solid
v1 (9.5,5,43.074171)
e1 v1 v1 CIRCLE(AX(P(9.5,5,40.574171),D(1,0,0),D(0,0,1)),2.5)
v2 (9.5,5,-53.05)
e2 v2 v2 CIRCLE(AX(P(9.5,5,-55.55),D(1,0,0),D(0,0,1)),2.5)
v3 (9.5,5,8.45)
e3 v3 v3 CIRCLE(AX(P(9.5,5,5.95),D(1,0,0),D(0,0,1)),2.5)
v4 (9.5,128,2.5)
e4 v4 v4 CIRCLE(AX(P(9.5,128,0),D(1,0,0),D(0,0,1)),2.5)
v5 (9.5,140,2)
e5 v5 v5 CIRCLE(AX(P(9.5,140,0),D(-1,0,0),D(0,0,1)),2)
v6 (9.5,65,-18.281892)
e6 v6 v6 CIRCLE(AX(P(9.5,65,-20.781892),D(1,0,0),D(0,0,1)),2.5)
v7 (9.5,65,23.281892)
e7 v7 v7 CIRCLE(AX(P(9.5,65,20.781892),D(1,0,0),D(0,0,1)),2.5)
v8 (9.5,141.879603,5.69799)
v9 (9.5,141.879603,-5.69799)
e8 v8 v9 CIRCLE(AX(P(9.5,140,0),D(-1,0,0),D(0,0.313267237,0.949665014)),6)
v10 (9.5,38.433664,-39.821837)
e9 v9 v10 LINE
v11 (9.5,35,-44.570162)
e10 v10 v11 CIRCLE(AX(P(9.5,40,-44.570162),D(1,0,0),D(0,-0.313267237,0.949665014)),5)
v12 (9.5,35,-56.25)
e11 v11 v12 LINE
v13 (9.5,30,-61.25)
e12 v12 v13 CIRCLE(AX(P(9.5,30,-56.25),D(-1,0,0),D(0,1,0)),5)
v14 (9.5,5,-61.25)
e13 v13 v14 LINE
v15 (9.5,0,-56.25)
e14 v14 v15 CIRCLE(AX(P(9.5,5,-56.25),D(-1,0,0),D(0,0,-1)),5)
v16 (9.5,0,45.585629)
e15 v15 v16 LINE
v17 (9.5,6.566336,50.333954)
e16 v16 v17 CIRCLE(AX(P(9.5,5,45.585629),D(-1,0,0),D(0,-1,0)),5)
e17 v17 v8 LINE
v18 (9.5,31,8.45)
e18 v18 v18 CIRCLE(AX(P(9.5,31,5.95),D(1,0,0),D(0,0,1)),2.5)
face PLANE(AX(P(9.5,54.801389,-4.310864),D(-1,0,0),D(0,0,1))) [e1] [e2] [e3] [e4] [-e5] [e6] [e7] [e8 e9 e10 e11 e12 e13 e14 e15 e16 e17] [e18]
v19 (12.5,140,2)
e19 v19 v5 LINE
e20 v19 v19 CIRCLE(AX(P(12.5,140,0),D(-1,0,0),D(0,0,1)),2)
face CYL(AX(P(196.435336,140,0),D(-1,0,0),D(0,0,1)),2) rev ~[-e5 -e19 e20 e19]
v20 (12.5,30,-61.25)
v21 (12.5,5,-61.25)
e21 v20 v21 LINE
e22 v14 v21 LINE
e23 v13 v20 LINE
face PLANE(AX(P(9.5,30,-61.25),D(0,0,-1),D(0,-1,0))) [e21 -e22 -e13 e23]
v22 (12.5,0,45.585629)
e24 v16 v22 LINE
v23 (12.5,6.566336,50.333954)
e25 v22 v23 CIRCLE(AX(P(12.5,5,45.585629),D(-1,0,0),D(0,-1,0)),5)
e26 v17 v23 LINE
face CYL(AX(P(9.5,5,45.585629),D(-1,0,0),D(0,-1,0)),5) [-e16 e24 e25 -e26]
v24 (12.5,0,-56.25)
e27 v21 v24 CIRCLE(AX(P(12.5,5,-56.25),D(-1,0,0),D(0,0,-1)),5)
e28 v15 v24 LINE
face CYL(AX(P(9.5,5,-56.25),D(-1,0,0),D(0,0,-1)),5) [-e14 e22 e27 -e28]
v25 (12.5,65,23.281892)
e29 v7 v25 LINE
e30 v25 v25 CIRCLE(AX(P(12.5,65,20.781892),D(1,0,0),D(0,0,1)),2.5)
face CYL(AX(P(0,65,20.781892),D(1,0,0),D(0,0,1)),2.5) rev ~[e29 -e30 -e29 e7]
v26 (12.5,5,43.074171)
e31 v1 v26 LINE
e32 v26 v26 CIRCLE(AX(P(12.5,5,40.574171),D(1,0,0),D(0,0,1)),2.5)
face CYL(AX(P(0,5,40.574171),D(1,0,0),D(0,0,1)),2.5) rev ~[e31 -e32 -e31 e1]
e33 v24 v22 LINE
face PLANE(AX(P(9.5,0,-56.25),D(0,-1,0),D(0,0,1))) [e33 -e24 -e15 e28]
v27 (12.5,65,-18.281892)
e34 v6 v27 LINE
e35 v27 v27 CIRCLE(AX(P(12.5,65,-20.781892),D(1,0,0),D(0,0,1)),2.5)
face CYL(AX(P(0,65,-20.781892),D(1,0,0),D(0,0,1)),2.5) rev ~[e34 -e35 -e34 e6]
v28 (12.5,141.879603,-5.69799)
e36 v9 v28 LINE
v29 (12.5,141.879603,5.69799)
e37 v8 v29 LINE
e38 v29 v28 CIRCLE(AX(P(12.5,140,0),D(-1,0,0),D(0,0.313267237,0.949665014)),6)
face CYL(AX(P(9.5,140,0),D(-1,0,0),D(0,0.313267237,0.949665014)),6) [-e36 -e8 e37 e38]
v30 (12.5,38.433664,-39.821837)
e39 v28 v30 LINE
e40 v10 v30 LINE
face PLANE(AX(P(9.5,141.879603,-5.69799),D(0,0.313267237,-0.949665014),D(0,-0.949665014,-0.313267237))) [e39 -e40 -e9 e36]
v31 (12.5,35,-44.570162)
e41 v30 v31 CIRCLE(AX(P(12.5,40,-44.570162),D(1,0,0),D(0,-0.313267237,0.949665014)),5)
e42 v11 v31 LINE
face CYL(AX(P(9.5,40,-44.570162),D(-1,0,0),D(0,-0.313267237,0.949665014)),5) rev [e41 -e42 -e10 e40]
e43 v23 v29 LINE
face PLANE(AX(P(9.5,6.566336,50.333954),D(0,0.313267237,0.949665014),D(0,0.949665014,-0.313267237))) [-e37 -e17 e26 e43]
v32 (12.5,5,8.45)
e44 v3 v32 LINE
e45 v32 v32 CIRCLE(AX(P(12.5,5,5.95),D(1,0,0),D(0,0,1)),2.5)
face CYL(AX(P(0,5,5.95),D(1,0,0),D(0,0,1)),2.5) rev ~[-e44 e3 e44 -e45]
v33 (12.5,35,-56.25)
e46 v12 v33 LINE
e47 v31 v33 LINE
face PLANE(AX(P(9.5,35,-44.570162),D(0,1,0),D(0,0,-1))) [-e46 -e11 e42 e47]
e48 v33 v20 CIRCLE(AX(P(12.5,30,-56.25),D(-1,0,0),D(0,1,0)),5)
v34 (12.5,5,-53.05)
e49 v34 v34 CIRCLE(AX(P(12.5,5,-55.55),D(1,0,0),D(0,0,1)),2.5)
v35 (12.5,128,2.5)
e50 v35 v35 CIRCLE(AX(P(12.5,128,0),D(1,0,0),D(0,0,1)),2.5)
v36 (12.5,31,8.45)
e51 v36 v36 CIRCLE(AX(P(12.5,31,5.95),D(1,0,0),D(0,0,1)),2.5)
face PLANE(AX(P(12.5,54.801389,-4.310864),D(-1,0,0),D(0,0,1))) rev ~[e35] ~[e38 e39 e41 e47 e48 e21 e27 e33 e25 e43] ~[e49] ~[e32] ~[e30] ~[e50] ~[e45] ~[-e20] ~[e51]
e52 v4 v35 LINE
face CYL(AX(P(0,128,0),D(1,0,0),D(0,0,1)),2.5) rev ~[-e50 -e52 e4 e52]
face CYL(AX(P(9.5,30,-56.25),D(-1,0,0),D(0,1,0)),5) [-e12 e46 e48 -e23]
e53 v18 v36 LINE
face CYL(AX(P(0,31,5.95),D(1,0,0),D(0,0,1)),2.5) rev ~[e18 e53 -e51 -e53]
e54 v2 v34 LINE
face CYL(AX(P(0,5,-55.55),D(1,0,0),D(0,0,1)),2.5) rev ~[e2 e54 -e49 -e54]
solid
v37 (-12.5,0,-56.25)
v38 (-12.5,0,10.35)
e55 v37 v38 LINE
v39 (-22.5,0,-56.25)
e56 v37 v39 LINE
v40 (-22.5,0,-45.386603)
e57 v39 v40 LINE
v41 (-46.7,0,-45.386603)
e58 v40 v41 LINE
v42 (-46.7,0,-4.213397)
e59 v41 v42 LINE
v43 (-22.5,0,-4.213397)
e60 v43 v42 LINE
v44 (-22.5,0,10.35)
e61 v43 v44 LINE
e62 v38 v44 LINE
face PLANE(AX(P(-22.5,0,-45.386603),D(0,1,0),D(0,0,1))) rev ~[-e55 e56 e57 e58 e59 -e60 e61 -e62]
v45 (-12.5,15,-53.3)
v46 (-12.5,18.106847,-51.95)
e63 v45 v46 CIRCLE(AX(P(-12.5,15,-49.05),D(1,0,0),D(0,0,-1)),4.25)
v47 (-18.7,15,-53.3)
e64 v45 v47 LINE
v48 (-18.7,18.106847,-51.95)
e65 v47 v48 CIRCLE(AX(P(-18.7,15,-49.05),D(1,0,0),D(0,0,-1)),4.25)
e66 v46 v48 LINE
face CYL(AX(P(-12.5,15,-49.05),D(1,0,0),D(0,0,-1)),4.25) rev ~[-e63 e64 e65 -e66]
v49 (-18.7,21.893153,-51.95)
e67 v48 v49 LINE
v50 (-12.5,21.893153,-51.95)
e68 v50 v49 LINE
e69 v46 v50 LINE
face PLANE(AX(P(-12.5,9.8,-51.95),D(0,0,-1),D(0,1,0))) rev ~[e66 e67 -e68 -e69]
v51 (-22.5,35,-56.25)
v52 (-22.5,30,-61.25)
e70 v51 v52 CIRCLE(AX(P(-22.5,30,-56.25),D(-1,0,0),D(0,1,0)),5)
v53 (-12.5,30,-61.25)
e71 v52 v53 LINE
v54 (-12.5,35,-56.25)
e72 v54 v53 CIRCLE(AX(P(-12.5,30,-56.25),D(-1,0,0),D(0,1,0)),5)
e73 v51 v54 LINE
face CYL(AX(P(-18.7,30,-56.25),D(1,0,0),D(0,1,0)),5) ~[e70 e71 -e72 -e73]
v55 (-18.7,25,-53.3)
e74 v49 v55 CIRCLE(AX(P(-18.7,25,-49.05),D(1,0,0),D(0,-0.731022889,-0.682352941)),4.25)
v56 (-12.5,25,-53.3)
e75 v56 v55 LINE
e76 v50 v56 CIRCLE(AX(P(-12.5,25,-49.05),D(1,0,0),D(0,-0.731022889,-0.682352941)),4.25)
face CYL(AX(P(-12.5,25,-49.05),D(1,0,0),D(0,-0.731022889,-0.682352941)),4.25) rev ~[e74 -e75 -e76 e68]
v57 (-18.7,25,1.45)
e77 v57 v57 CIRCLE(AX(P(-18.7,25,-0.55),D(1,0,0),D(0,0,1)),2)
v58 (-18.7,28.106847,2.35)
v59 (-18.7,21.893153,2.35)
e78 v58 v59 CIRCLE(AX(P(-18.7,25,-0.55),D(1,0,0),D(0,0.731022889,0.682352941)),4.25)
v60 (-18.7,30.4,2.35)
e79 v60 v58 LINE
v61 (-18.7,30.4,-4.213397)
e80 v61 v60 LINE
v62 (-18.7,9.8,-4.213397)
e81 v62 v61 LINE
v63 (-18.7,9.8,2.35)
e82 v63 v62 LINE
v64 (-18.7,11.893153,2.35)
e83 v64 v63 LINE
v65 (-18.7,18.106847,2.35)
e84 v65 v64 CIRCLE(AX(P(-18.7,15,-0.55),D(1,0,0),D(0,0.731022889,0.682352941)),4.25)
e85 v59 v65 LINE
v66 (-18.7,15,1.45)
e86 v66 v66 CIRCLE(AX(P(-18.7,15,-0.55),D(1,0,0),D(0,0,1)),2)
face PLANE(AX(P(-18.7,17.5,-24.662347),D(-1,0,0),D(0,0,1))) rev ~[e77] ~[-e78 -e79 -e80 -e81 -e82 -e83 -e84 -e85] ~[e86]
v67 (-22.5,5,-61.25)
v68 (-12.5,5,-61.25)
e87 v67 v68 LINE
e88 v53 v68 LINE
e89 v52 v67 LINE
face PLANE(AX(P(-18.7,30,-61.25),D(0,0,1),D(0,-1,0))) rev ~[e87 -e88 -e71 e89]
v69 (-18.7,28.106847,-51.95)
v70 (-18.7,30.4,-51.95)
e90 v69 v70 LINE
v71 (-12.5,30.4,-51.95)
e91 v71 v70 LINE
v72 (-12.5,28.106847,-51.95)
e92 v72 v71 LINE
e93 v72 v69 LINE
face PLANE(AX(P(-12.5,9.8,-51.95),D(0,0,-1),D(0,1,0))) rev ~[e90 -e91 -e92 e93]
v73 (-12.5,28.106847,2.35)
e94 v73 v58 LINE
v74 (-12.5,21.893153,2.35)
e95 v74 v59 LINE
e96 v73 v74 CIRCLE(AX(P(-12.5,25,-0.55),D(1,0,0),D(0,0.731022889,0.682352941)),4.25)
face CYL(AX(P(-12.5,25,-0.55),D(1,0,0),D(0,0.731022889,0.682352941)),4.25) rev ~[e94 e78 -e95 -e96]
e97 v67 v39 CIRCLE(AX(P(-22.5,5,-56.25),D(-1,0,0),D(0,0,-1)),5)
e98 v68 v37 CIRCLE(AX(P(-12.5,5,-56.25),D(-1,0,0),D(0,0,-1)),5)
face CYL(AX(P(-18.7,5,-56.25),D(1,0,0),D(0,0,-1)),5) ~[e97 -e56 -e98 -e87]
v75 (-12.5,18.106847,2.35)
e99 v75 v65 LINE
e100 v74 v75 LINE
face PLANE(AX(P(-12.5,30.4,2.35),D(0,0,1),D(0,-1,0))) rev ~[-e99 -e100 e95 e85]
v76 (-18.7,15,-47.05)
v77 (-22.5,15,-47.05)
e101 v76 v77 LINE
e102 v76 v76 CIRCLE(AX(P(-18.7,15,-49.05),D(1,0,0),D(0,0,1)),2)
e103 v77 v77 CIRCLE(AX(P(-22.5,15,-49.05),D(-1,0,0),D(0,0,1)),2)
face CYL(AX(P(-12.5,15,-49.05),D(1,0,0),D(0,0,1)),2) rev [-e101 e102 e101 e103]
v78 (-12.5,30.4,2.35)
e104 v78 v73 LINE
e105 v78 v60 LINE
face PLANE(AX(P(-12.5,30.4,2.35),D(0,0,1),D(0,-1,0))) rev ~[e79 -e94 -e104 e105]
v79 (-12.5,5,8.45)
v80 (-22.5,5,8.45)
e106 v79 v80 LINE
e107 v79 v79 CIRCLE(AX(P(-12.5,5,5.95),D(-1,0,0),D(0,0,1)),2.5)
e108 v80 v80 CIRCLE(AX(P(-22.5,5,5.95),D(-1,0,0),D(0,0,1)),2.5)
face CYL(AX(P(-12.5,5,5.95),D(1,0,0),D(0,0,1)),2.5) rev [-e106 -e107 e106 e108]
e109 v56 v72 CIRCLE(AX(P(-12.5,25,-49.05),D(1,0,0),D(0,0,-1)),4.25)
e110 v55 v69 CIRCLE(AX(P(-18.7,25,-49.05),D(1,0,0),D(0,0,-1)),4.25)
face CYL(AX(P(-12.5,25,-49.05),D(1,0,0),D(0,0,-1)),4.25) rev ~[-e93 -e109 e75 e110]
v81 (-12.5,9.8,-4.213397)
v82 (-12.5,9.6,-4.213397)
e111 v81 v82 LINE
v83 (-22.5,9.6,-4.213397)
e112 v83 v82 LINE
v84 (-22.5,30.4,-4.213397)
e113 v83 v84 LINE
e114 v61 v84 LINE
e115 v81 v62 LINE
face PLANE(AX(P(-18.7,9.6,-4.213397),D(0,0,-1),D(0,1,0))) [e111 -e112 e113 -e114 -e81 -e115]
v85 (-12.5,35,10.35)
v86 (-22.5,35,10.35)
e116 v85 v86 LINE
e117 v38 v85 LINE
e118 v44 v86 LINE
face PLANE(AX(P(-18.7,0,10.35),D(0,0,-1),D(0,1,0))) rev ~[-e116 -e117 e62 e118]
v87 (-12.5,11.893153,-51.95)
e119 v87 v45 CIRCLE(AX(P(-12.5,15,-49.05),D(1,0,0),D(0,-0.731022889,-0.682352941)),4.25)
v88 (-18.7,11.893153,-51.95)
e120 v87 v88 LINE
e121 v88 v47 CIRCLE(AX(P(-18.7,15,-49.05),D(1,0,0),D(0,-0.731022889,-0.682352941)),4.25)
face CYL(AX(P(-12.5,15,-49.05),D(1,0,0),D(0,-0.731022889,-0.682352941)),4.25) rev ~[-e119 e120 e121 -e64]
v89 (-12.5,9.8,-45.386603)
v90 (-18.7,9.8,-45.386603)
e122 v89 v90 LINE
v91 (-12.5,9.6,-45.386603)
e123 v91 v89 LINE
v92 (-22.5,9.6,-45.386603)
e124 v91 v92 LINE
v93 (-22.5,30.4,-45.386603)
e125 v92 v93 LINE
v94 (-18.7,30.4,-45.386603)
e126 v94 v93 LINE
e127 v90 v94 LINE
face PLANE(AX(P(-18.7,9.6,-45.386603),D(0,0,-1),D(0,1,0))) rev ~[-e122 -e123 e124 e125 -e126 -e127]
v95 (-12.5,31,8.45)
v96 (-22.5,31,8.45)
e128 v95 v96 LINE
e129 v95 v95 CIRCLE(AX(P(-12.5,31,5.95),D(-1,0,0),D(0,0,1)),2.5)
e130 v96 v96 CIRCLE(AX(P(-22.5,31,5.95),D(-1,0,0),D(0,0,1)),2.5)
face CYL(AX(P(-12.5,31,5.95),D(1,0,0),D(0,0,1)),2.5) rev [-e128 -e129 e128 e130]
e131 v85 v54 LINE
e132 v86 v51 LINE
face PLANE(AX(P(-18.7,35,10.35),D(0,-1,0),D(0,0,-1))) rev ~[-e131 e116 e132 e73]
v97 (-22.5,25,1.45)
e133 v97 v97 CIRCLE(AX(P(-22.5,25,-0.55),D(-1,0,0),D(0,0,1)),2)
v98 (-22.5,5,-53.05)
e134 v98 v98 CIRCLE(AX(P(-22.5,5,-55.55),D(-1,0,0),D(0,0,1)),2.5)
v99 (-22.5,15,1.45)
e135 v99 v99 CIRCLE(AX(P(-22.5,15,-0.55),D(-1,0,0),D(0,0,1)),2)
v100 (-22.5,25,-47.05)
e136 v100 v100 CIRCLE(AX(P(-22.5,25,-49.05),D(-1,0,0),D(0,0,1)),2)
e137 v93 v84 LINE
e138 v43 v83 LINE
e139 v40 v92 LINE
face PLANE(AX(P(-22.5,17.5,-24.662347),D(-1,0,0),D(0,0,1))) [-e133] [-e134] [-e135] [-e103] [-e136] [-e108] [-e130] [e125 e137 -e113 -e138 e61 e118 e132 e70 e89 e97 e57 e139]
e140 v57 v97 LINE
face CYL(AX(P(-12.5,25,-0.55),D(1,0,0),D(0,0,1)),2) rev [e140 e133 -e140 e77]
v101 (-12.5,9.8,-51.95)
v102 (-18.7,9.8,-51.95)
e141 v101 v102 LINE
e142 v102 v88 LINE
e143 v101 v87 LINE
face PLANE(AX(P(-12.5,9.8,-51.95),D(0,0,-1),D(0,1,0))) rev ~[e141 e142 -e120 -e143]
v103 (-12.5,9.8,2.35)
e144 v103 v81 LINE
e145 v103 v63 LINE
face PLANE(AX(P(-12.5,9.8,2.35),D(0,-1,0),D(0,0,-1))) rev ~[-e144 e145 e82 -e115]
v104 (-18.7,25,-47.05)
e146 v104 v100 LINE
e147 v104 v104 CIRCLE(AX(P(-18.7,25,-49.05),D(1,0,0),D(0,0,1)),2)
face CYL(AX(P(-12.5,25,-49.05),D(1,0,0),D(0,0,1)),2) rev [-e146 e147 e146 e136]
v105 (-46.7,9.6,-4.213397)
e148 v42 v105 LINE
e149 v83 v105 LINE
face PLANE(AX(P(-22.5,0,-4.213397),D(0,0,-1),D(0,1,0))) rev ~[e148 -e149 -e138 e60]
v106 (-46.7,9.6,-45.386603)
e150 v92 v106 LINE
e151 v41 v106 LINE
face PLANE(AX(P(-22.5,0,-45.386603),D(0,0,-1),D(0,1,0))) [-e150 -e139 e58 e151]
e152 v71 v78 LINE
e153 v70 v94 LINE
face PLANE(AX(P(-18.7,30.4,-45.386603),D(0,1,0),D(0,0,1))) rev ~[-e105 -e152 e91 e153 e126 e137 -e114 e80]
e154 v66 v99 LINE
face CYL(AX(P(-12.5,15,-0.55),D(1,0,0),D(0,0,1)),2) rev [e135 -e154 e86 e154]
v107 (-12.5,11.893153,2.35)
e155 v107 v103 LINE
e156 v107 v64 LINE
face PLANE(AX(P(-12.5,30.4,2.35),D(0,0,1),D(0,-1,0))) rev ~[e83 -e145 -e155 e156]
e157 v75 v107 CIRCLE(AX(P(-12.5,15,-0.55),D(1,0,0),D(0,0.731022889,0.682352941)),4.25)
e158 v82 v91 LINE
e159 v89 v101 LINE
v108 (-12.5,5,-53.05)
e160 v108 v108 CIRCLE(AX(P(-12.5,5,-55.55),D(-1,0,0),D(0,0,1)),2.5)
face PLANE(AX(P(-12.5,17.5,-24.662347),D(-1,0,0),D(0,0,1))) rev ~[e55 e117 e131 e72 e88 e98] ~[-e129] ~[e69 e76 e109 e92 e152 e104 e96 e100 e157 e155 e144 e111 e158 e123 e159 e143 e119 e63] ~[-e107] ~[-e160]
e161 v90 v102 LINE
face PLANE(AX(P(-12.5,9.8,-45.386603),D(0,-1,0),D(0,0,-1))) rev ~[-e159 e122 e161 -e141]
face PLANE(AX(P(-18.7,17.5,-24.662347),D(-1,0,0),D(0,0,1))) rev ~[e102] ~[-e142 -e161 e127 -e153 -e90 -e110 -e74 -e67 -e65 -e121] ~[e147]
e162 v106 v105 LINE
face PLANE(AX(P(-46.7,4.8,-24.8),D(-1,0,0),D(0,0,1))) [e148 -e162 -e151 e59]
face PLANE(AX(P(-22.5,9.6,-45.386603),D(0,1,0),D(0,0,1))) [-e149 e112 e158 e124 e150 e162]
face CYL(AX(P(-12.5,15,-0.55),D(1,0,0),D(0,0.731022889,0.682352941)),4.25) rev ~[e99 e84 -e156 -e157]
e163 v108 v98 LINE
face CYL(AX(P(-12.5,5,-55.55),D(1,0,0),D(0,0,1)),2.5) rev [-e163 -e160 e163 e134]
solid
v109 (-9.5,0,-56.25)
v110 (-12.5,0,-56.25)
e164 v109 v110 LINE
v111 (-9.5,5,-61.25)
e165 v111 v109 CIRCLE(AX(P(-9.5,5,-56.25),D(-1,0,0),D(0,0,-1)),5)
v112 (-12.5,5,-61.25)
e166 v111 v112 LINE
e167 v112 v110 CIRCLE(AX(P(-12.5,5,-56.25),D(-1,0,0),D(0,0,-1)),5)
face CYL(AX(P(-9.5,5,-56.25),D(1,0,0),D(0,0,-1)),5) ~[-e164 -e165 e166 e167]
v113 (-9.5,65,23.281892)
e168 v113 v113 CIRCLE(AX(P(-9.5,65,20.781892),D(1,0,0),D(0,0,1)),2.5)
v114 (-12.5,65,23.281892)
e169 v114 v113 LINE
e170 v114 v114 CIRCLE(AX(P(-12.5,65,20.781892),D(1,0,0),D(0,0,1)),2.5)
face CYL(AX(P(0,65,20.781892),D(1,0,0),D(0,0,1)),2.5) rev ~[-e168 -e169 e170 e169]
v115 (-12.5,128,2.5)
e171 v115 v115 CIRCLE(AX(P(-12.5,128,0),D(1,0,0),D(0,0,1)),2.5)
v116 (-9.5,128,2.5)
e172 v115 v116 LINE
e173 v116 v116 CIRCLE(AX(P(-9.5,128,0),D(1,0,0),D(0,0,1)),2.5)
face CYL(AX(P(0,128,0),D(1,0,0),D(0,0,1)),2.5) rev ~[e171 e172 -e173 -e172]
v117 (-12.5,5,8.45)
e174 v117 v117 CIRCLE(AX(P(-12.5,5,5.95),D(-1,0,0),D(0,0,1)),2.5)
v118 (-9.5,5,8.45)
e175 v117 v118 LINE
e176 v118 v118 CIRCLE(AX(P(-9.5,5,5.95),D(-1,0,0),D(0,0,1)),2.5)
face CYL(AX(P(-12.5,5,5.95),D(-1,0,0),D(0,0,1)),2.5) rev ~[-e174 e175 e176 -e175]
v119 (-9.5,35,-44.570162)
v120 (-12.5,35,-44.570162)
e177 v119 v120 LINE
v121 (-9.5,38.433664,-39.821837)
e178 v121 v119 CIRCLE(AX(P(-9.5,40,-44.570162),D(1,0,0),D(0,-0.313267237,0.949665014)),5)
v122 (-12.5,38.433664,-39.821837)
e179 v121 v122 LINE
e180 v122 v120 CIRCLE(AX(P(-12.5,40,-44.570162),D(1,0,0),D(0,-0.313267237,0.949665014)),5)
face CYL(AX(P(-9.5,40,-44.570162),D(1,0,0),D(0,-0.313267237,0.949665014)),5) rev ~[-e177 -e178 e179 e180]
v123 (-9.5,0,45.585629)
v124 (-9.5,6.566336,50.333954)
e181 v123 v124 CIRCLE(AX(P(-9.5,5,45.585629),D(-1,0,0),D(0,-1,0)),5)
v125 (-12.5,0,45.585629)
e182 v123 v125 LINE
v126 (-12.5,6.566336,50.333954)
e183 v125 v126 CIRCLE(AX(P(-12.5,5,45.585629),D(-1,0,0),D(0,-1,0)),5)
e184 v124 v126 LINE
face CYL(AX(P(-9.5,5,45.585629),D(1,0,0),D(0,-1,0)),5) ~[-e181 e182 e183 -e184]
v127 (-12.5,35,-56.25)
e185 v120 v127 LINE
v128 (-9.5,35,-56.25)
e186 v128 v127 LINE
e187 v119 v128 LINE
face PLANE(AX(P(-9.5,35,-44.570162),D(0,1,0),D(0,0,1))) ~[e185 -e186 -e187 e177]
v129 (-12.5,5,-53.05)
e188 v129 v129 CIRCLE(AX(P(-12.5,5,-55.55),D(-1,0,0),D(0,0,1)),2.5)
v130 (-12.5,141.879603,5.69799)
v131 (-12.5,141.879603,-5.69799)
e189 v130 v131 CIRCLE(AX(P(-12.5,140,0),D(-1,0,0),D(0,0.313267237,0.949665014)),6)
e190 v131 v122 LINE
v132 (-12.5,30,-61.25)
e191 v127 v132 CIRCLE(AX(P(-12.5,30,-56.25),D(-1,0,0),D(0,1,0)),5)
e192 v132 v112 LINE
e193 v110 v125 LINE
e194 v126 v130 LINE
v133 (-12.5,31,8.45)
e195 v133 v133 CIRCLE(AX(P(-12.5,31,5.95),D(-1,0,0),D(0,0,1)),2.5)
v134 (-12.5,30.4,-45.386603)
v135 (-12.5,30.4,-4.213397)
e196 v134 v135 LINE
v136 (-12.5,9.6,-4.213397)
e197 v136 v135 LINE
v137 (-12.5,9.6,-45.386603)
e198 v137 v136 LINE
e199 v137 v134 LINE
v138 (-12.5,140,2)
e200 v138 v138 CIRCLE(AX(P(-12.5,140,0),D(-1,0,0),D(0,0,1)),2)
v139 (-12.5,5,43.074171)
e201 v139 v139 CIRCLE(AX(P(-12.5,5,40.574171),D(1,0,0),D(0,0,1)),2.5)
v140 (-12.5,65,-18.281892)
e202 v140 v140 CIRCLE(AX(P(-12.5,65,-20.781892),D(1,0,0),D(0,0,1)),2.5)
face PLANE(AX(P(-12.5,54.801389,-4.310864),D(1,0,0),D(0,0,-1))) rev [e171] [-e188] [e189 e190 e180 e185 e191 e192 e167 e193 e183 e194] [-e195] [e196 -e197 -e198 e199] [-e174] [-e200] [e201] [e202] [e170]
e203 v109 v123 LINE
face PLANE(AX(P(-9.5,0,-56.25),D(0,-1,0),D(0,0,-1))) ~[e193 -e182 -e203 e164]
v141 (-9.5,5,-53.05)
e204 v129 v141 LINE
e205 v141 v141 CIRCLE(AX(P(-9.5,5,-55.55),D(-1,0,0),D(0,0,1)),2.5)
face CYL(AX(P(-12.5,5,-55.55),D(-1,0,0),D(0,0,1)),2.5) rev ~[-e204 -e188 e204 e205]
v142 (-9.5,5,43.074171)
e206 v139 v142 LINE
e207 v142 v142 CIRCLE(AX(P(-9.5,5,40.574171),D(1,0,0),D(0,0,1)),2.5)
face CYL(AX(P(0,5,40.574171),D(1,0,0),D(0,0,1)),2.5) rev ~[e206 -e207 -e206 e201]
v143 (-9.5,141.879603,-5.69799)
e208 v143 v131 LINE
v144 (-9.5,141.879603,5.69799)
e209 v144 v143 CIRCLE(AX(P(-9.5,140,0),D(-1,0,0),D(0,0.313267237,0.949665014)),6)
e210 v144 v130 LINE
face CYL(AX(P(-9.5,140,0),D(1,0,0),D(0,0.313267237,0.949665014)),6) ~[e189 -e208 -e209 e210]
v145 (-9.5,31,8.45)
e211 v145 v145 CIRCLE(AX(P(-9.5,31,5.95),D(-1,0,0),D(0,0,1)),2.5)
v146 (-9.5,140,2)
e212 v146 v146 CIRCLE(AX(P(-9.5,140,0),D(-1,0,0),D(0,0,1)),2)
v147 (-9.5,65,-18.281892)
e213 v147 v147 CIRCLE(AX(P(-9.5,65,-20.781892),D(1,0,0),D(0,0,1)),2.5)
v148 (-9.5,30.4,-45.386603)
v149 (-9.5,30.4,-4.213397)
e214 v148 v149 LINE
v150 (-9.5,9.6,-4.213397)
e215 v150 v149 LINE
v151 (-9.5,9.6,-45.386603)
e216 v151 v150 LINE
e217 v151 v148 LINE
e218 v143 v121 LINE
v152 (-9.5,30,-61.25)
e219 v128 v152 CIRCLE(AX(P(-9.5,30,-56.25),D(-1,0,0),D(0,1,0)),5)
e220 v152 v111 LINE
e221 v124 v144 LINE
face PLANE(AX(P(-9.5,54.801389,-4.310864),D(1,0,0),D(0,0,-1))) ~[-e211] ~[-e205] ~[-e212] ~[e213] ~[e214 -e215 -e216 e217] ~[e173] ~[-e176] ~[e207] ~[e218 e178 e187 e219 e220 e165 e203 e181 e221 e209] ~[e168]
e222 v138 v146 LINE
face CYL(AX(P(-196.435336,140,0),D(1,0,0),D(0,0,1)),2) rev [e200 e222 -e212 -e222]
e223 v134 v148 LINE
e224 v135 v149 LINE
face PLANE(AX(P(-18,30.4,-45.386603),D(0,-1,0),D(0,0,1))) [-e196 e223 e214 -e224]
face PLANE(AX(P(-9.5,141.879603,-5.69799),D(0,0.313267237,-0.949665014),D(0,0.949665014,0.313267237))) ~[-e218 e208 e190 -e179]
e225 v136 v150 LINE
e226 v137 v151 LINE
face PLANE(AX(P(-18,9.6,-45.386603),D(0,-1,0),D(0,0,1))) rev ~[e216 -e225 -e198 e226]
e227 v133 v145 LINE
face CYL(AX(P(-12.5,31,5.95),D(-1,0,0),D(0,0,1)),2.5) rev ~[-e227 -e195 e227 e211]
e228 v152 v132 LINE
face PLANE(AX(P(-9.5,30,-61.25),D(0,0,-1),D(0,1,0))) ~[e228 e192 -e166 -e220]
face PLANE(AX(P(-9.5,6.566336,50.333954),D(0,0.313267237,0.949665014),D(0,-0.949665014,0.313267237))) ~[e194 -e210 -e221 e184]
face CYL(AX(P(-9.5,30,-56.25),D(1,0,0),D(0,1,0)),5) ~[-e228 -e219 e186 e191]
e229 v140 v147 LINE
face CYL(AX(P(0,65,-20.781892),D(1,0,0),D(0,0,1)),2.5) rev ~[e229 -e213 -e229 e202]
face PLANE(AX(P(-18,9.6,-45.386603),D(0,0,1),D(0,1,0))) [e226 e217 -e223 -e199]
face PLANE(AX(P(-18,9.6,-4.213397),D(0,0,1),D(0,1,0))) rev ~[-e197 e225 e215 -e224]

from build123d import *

# Parameters (mm, degrees)
BOSS_EXTRUDE1_DEPTH            = 3
F_4_0MM_DOWEL_HOLE1_D          = 4
SKETCH5_W                      = 41.17320508
SKETCH5_H                      = 20.8
CUT_EXTRUDE1_DEPTH             = 8.5
BOSS_EXTRUDE2_DEPTH            = 6.2
SKETCH12_W                     = 41.17320508
SKETCH12_H                     = 20.8
BOSS_EXTRUDE6_DEPTH            = 3.8
CUT_EXTRUDE2_START             = -10
SKETCH15_R                     = 2
SKETCH15_R_2                   = 2.5
CUT_EXTRUDE2_DEPTH             = 10
SKETCH16_R                     = 2.5
CUT_EXTRUDE3_DEPTH             = 3
SKETCH17_W                     = 41.17320508
SKETCH17_H                     = 9.6
BOSS_EXTRUDE8_DEPTH            = 24.2
SKETCH20_W                     = 2.5
SKETCH20_H                     = 25
F_5_0MM_DOWEL_HOLE1_AT_2_COUNT = 2
F_5_0MM_DOWEL_HOLE1_AT_2_PITCH = 66.339181814
F_5_0MM_DOWEL_HOLE1_AT_3_COUNT = 2
F_5_0MM_DOWEL_HOLE1_AT_3_PITCH = 66.339181814
F_5_0MM_DOWEL_HOLE1_AT_4_COUNT = 2
F_5_0MM_DOWEL_HOLE1_AT_4_PITCH = 134.962226197
F_5_0MM_DOWEL_HOLE1_AT_5_COUNT = 2
F_5_0MM_DOWEL_HOLE1_AT_5_PITCH = 123.14382851
F_5_0MM_DOWEL_HOLE1_AT_6_COUNT = 2
F_5_0MM_DOWEL_HOLE1_AT_6_PITCH = 129.51935497
F_5_0MM_DOWEL_HOLE1_AT_7_COUNT = 2
F_5_0MM_DOWEL_HOLE1_AT_7_PITCH = 97.182315778
CUT_EXTRUDE4_DEPTH             = 6.2


with BuildPart() as part:
    # Sketch3 → Boss-Extrude1 (new body)
    with BuildSketch(Plane(origin=(9.5, 0, 0), x_dir=(0, 0, -1), z_dir=(1, 0, 0))):
        with BuildLine():
            ThreePointArc((-5.697990082, 141.879603423), (0, 146), (5.697990082, 141.879603423))
            Line((5.697990082, 141.879603423), (39.821837166, 38.433663814))
            ThreePointArc((39.821837166, 38.433663814), (41.640288596, 35.948353364), (44.570162234, 35))
            Line((44.570162234, 35), (56.25, 35))
            ThreePointArc((56.25, 35), (59.785533906, 33.535533906), (61.25, 30))
            Line((61.25, 30), (61.25, 5))
            ThreePointArc((61.25, 5), (59.785533906, 1.464466094), (56.25, 0))
            Line((56.25, 0), (0, 0))
            Line((0, 0), (-45.585629046, 0))
            ThreePointArc((-45.585629046, 0), (-49.637275682, 2.070126362), (-50.333954114, 6.566336186))
            Line((-50.333954114, 6.566336186), (-5.697990082, 141.879603423))
        make_face()
    extrude(amount=BOSS_EXTRUDE1_DEPTH)

    # Ø4.0mm Dowel Hole1 (through all)
    with Locations(Plane(origin=(12.5, 0, 0), x_dir=(0, 0, -1), z_dir=(1, 0, 0))):
        with Locations((0, 140)):
            Hole(F_4_0MM_DOWEL_HOLE1_D / 2)


with BuildPart() as body_2:
    # Mirror2: mirrored copy
    add(part.part.mirror(Plane(origin=(0, 0, 0), x_dir=(0, 0, 1), z_dir=(1, 0, 0))))

    # Sketch5 → Cut-Extrude1 (cut)
    with BuildSketch(Plane.ZY.offset(18)):
        with Locations((-24.8, 20)):
            Rectangle(SKETCH5_W, SKETCH5_H)
    extrude(amount=-CUT_EXTRUDE1_DEPTH, mode=Mode.SUBTRACT)

    # Sketch16 → Cut-Extrude3 (cut)
    with BuildSketch(Plane.ZY.offset(12.5)):
        with Locations((5.95, 31)):
            Circle(SKETCH16_R)
        with Locations((5.95, 5)):
            Circle(SKETCH16_R)
        with Locations((-55.55, 5)):
            Circle(SKETCH16_R)
    extrude(amount=-CUT_EXTRUDE3_DEPTH, mode=Mode.SUBTRACT)


with BuildPart() as body_3:
    # Sketch11 → Boss-Extrude2 (new body)
    with BuildSketch(Plane.ZY.offset(12.5)):
        with BuildLine():
            ThreePointArc((-61.25, 5), (-59.785533906, 1.464466094), (-56.25, 0))
            Line((-56.25, 0), (10.35, 0))
            Line((10.35, 0), (10.35, 35))
            Line((10.35, 35), (-56.25, 35))
            ThreePointArc((-56.25, 35), (-59.785533906, 33.535533906), (-61.25, 30))
            Line((-61.25, 30), (-61.25, 5))
        make_face()
        Polygon((2.35, 30.4), (2.35, 9.8), (-4.21339746, 9.8), (-4.21339746, 9.6), (-45.38660254, 9.6), (-45.38660254, 9.8), (-51.95, 9.8), (-51.95, 30.4), align=None, mode=Mode.SUBTRACT)
    extrude(amount=BOSS_EXTRUDE2_DEPTH)

    # Sketch12 → Boss-Extrude6 (add)
    with BuildSketch(Plane.ZY.offset(18.7)):
        with BuildLine():
            ThreePointArc((-61.25, 5), (-59.785533906, 1.464466094), (-56.25, 0))
            Line((-56.25, 0), (10.35, 0))
            Line((10.35, 0), (10.35, 35))
            Line((10.35, 35), (-56.25, 35))
            ThreePointArc((-56.25, 35), (-59.785533906, 33.535533906), (-61.25, 30))
            Line((-61.25, 30), (-61.25, 5))
        make_face()
        with Locations((-24.8, 20)):
            Rectangle(SKETCH12_W, SKETCH12_H, mode=Mode.SUBTRACT)
    extrude(amount=BOSS_EXTRUDE6_DEPTH)

    # Sketch15 → Cut-Extrude2 (cut)
    with BuildSketch(Plane.ZY.offset(22.5).offset(CUT_EXTRUDE2_START)):
        with Locations((-0.55, 15)):
            Circle(SKETCH15_R)
        with Locations((-49.05, 15)):
            Circle(SKETCH15_R)
        with Locations((-49.05, 25)):
            Circle(SKETCH15_R)
        with Locations((-0.55, 25)):
            Circle(SKETCH15_R)
        with Locations((5.95, 31)):
            Circle(SKETCH15_R_2)
        with Locations((-55.55, 5)):
            Circle(SKETCH15_R_2)
        with Locations((5.95, 5)):
            Circle(SKETCH15_R_2)
    extrude(amount=CUT_EXTRUDE2_DEPTH, mode=Mode.SUBTRACT)

    # Sketch17 → Boss-Extrude8 (add)
    with BuildSketch(Plane.ZY.offset(22.5)):
        with Locations((-24.8, 4.8)):
            Rectangle(SKETCH17_W, SKETCH17_H)
    extrude(amount=BOSS_EXTRUDE8_DEPTH)

    # Sketch21 → Cut-Extrude4 (cut)
    with BuildSketch(Plane(origin=(-12.5, 0, 0), x_dir=(0, 0, -1), z_dir=(1, 0, 0))):
        with BuildLine():
            ThreePointArc((51.95, 21.893152723), (52.94791611, 23.306261531), (53.3, 25))
            ThreePointArc((53.3, 25), (52.94791611, 26.693738469), (51.95, 28.106847277))
            Line((51.95, 28.106847277), (51.95, 21.893152723))
        make_face()
        with BuildLine():
            ThreePointArc((53.3, 15), (52.94791611, 16.693738469), (51.95, 18.106847277))
            Line((51.95, 18.106847277), (51.95, 11.893152723))
            ThreePointArc((51.95, 11.893152723), (52.94791611, 13.306261531), (53.3, 15))
        make_face()
        with BuildLine():
            Line((-2.35, 21.893152723), (-2.35, 28.106847277))
            ThreePointArc((-2.35, 28.106847277), (-3.7, 25), (-2.35, 21.893152723))
        make_face()
        with BuildLine():
            Line((-2.35, 11.893152723), (-2.35, 18.106847277))
            ThreePointArc((-2.35, 18.106847277), (-3.7, 15), (-2.35, 11.893152723))
        make_face()
    extrude(amount=-CUT_EXTRUDE4_DEPTH, mode=Mode.SUBTRACT)


with BuildPart() as f_5_0mm_dowel_hole1_tool:
    # Sketch20 → Ø5.0mm Dowel Hole1 (revolve)
    with BuildSketch(Plane(origin=(-12.5, 128, 0), x_dir=(0, 0, 1), z_dir=(0, 1, 0))):
        with Locations((1.25, 12.5)):
            Rectangle(SKETCH20_W, SKETCH20_H)
    f_5_0mm_dowel_hole1 = revolve(axis=Axis((-18.85, 128, 0), (1, 0, 0)))


with BuildPart() as part_1:
    add(part.part)

    # Ø5.0mm Dowel Hole1: cut by f_5_0mm_dowel_hole1_tool
    add(f_5_0mm_dowel_hole1_tool.part, mode=Mode.SUBTRACT)


with BuildPart() as body_2_1:
    add(body_2.part)

    # Ø5.0mm Dowel Hole1: cut by f_5_0mm_dowel_hole1_tool
    add(f_5_0mm_dowel_hole1_tool.part, mode=Mode.SUBTRACT)


with BuildPart() as f_5_0mm_dowel_hole1_at_2_tool:
    # Ø5.0mm Dowel Hole1 at 2: Ø5.0mm Dowel Hole1 ×2
    with Locations(*[Vector(0, -0.9496650136067186, -0.31326723724537664) * (i * F_5_0MM_DOWEL_HOLE1_AT_2_PITCH) for i in range(1, F_5_0MM_DOWEL_HOLE1_AT_2_COUNT)]):
        add(f_5_0mm_dowel_hole1)


with BuildPart() as part_2:
    add(part_1.part)

    # Ø5.0mm Dowel Hole1 at 2: cut by f_5_0mm_dowel_hole1_at_2_tool
    add(f_5_0mm_dowel_hole1_at_2_tool.part, mode=Mode.SUBTRACT)


with BuildPart() as body_2_2:
    add(body_2_1.part)

    # Ø5.0mm Dowel Hole1 at 2: cut by f_5_0mm_dowel_hole1_at_2_tool
    add(f_5_0mm_dowel_hole1_at_2_tool.part, mode=Mode.SUBTRACT)


with BuildPart() as f_5_0mm_dowel_hole1_at_3_tool:
    # Ø5.0mm Dowel Hole1 at 3: Ø5.0mm Dowel Hole1 ×2
    with Locations(*[Vector(0, -0.9496650136067186, 0.31326723724537664) * (i * F_5_0MM_DOWEL_HOLE1_AT_3_PITCH) for i in range(1, F_5_0MM_DOWEL_HOLE1_AT_3_COUNT)]):
        add(f_5_0mm_dowel_hole1)


with BuildPart() as part_3:
    add(part_2.part)

    # Ø5.0mm Dowel Hole1 at 3: cut by f_5_0mm_dowel_hole1_at_3_tool
    add(f_5_0mm_dowel_hole1_at_3_tool.part, mode=Mode.SUBTRACT)

    # Ø5.0mm Dowel Hole1 at 4: Ø5.0mm Dowel Hole1 ×2
    with Locations(*[Vector(0, -0.9113661167727802, -0.4115966486725849) * (i * F_5_0MM_DOWEL_HOLE1_AT_4_PITCH) for i in range(1, F_5_0MM_DOWEL_HOLE1_AT_4_COUNT)]):
        add(f_5_0mm_dowel_hole1, mode=Mode.SUBTRACT)

    # Ø5.0mm Dowel Hole1 at 5: Ø5.0mm Dowel Hole1 ×2
    with Locations(*[Vector(0, -0.9988320282767431, 0.048317484294687886) * (i * F_5_0MM_DOWEL_HOLE1_AT_5_PITCH) for i in range(1, F_5_0MM_DOWEL_HOLE1_AT_5_COUNT)]):
        add(f_5_0mm_dowel_hole1, mode=Mode.SUBTRACT)


with BuildPart() as body_2_3:
    add(body_2_2.part)

    # Ø5.0mm Dowel Hole1 at 3: cut by f_5_0mm_dowel_hole1_at_3_tool
    add(f_5_0mm_dowel_hole1_at_3_tool.part, mode=Mode.SUBTRACT)


with BuildPart() as f_5_0mm_dowel_hole1_at_6_tool:
    # Ø5.0mm Dowel Hole1 at 6: Ø5.0mm Dowel Hole1 ×2
    with Locations(*[Vector(0, -0.9496650136067186, 0.3132672372453767) * (i * F_5_0MM_DOWEL_HOLE1_AT_6_PITCH) for i in range(1, F_5_0MM_DOWEL_HOLE1_AT_6_COUNT)]):
        add(f_5_0mm_dowel_hole1)


with BuildPart() as part_4:
    add(part_3.part)

    # Ø5.0mm Dowel Hole1 at 6: cut by f_5_0mm_dowel_hole1_at_6_tool
    add(f_5_0mm_dowel_hole1_at_6_tool.part, mode=Mode.SUBTRACT)

    # Ø5.0mm Dowel Hole1 at 7: Ø5.0mm Dowel Hole1 ×2
    with Locations(*[Vector(0, -0.998123981954234, 0.06122513085183183) * (i * F_5_0MM_DOWEL_HOLE1_AT_7_PITCH) for i in range(1, F_5_0MM_DOWEL_HOLE1_AT_7_COUNT)]):
        add(f_5_0mm_dowel_hole1, mode=Mode.SUBTRACT)


with BuildPart() as body_2_4:
    add(body_2_3.part)

    # Ø5.0mm Dowel Hole1 at 6: cut by f_5_0mm_dowel_hole1_at_6_tool
    add(f_5_0mm_dowel_hole1_at_6_tool.part, mode=Mode.SUBTRACT)


solid = Compound([body_3.part, part_4.part, body_2_4.part])
